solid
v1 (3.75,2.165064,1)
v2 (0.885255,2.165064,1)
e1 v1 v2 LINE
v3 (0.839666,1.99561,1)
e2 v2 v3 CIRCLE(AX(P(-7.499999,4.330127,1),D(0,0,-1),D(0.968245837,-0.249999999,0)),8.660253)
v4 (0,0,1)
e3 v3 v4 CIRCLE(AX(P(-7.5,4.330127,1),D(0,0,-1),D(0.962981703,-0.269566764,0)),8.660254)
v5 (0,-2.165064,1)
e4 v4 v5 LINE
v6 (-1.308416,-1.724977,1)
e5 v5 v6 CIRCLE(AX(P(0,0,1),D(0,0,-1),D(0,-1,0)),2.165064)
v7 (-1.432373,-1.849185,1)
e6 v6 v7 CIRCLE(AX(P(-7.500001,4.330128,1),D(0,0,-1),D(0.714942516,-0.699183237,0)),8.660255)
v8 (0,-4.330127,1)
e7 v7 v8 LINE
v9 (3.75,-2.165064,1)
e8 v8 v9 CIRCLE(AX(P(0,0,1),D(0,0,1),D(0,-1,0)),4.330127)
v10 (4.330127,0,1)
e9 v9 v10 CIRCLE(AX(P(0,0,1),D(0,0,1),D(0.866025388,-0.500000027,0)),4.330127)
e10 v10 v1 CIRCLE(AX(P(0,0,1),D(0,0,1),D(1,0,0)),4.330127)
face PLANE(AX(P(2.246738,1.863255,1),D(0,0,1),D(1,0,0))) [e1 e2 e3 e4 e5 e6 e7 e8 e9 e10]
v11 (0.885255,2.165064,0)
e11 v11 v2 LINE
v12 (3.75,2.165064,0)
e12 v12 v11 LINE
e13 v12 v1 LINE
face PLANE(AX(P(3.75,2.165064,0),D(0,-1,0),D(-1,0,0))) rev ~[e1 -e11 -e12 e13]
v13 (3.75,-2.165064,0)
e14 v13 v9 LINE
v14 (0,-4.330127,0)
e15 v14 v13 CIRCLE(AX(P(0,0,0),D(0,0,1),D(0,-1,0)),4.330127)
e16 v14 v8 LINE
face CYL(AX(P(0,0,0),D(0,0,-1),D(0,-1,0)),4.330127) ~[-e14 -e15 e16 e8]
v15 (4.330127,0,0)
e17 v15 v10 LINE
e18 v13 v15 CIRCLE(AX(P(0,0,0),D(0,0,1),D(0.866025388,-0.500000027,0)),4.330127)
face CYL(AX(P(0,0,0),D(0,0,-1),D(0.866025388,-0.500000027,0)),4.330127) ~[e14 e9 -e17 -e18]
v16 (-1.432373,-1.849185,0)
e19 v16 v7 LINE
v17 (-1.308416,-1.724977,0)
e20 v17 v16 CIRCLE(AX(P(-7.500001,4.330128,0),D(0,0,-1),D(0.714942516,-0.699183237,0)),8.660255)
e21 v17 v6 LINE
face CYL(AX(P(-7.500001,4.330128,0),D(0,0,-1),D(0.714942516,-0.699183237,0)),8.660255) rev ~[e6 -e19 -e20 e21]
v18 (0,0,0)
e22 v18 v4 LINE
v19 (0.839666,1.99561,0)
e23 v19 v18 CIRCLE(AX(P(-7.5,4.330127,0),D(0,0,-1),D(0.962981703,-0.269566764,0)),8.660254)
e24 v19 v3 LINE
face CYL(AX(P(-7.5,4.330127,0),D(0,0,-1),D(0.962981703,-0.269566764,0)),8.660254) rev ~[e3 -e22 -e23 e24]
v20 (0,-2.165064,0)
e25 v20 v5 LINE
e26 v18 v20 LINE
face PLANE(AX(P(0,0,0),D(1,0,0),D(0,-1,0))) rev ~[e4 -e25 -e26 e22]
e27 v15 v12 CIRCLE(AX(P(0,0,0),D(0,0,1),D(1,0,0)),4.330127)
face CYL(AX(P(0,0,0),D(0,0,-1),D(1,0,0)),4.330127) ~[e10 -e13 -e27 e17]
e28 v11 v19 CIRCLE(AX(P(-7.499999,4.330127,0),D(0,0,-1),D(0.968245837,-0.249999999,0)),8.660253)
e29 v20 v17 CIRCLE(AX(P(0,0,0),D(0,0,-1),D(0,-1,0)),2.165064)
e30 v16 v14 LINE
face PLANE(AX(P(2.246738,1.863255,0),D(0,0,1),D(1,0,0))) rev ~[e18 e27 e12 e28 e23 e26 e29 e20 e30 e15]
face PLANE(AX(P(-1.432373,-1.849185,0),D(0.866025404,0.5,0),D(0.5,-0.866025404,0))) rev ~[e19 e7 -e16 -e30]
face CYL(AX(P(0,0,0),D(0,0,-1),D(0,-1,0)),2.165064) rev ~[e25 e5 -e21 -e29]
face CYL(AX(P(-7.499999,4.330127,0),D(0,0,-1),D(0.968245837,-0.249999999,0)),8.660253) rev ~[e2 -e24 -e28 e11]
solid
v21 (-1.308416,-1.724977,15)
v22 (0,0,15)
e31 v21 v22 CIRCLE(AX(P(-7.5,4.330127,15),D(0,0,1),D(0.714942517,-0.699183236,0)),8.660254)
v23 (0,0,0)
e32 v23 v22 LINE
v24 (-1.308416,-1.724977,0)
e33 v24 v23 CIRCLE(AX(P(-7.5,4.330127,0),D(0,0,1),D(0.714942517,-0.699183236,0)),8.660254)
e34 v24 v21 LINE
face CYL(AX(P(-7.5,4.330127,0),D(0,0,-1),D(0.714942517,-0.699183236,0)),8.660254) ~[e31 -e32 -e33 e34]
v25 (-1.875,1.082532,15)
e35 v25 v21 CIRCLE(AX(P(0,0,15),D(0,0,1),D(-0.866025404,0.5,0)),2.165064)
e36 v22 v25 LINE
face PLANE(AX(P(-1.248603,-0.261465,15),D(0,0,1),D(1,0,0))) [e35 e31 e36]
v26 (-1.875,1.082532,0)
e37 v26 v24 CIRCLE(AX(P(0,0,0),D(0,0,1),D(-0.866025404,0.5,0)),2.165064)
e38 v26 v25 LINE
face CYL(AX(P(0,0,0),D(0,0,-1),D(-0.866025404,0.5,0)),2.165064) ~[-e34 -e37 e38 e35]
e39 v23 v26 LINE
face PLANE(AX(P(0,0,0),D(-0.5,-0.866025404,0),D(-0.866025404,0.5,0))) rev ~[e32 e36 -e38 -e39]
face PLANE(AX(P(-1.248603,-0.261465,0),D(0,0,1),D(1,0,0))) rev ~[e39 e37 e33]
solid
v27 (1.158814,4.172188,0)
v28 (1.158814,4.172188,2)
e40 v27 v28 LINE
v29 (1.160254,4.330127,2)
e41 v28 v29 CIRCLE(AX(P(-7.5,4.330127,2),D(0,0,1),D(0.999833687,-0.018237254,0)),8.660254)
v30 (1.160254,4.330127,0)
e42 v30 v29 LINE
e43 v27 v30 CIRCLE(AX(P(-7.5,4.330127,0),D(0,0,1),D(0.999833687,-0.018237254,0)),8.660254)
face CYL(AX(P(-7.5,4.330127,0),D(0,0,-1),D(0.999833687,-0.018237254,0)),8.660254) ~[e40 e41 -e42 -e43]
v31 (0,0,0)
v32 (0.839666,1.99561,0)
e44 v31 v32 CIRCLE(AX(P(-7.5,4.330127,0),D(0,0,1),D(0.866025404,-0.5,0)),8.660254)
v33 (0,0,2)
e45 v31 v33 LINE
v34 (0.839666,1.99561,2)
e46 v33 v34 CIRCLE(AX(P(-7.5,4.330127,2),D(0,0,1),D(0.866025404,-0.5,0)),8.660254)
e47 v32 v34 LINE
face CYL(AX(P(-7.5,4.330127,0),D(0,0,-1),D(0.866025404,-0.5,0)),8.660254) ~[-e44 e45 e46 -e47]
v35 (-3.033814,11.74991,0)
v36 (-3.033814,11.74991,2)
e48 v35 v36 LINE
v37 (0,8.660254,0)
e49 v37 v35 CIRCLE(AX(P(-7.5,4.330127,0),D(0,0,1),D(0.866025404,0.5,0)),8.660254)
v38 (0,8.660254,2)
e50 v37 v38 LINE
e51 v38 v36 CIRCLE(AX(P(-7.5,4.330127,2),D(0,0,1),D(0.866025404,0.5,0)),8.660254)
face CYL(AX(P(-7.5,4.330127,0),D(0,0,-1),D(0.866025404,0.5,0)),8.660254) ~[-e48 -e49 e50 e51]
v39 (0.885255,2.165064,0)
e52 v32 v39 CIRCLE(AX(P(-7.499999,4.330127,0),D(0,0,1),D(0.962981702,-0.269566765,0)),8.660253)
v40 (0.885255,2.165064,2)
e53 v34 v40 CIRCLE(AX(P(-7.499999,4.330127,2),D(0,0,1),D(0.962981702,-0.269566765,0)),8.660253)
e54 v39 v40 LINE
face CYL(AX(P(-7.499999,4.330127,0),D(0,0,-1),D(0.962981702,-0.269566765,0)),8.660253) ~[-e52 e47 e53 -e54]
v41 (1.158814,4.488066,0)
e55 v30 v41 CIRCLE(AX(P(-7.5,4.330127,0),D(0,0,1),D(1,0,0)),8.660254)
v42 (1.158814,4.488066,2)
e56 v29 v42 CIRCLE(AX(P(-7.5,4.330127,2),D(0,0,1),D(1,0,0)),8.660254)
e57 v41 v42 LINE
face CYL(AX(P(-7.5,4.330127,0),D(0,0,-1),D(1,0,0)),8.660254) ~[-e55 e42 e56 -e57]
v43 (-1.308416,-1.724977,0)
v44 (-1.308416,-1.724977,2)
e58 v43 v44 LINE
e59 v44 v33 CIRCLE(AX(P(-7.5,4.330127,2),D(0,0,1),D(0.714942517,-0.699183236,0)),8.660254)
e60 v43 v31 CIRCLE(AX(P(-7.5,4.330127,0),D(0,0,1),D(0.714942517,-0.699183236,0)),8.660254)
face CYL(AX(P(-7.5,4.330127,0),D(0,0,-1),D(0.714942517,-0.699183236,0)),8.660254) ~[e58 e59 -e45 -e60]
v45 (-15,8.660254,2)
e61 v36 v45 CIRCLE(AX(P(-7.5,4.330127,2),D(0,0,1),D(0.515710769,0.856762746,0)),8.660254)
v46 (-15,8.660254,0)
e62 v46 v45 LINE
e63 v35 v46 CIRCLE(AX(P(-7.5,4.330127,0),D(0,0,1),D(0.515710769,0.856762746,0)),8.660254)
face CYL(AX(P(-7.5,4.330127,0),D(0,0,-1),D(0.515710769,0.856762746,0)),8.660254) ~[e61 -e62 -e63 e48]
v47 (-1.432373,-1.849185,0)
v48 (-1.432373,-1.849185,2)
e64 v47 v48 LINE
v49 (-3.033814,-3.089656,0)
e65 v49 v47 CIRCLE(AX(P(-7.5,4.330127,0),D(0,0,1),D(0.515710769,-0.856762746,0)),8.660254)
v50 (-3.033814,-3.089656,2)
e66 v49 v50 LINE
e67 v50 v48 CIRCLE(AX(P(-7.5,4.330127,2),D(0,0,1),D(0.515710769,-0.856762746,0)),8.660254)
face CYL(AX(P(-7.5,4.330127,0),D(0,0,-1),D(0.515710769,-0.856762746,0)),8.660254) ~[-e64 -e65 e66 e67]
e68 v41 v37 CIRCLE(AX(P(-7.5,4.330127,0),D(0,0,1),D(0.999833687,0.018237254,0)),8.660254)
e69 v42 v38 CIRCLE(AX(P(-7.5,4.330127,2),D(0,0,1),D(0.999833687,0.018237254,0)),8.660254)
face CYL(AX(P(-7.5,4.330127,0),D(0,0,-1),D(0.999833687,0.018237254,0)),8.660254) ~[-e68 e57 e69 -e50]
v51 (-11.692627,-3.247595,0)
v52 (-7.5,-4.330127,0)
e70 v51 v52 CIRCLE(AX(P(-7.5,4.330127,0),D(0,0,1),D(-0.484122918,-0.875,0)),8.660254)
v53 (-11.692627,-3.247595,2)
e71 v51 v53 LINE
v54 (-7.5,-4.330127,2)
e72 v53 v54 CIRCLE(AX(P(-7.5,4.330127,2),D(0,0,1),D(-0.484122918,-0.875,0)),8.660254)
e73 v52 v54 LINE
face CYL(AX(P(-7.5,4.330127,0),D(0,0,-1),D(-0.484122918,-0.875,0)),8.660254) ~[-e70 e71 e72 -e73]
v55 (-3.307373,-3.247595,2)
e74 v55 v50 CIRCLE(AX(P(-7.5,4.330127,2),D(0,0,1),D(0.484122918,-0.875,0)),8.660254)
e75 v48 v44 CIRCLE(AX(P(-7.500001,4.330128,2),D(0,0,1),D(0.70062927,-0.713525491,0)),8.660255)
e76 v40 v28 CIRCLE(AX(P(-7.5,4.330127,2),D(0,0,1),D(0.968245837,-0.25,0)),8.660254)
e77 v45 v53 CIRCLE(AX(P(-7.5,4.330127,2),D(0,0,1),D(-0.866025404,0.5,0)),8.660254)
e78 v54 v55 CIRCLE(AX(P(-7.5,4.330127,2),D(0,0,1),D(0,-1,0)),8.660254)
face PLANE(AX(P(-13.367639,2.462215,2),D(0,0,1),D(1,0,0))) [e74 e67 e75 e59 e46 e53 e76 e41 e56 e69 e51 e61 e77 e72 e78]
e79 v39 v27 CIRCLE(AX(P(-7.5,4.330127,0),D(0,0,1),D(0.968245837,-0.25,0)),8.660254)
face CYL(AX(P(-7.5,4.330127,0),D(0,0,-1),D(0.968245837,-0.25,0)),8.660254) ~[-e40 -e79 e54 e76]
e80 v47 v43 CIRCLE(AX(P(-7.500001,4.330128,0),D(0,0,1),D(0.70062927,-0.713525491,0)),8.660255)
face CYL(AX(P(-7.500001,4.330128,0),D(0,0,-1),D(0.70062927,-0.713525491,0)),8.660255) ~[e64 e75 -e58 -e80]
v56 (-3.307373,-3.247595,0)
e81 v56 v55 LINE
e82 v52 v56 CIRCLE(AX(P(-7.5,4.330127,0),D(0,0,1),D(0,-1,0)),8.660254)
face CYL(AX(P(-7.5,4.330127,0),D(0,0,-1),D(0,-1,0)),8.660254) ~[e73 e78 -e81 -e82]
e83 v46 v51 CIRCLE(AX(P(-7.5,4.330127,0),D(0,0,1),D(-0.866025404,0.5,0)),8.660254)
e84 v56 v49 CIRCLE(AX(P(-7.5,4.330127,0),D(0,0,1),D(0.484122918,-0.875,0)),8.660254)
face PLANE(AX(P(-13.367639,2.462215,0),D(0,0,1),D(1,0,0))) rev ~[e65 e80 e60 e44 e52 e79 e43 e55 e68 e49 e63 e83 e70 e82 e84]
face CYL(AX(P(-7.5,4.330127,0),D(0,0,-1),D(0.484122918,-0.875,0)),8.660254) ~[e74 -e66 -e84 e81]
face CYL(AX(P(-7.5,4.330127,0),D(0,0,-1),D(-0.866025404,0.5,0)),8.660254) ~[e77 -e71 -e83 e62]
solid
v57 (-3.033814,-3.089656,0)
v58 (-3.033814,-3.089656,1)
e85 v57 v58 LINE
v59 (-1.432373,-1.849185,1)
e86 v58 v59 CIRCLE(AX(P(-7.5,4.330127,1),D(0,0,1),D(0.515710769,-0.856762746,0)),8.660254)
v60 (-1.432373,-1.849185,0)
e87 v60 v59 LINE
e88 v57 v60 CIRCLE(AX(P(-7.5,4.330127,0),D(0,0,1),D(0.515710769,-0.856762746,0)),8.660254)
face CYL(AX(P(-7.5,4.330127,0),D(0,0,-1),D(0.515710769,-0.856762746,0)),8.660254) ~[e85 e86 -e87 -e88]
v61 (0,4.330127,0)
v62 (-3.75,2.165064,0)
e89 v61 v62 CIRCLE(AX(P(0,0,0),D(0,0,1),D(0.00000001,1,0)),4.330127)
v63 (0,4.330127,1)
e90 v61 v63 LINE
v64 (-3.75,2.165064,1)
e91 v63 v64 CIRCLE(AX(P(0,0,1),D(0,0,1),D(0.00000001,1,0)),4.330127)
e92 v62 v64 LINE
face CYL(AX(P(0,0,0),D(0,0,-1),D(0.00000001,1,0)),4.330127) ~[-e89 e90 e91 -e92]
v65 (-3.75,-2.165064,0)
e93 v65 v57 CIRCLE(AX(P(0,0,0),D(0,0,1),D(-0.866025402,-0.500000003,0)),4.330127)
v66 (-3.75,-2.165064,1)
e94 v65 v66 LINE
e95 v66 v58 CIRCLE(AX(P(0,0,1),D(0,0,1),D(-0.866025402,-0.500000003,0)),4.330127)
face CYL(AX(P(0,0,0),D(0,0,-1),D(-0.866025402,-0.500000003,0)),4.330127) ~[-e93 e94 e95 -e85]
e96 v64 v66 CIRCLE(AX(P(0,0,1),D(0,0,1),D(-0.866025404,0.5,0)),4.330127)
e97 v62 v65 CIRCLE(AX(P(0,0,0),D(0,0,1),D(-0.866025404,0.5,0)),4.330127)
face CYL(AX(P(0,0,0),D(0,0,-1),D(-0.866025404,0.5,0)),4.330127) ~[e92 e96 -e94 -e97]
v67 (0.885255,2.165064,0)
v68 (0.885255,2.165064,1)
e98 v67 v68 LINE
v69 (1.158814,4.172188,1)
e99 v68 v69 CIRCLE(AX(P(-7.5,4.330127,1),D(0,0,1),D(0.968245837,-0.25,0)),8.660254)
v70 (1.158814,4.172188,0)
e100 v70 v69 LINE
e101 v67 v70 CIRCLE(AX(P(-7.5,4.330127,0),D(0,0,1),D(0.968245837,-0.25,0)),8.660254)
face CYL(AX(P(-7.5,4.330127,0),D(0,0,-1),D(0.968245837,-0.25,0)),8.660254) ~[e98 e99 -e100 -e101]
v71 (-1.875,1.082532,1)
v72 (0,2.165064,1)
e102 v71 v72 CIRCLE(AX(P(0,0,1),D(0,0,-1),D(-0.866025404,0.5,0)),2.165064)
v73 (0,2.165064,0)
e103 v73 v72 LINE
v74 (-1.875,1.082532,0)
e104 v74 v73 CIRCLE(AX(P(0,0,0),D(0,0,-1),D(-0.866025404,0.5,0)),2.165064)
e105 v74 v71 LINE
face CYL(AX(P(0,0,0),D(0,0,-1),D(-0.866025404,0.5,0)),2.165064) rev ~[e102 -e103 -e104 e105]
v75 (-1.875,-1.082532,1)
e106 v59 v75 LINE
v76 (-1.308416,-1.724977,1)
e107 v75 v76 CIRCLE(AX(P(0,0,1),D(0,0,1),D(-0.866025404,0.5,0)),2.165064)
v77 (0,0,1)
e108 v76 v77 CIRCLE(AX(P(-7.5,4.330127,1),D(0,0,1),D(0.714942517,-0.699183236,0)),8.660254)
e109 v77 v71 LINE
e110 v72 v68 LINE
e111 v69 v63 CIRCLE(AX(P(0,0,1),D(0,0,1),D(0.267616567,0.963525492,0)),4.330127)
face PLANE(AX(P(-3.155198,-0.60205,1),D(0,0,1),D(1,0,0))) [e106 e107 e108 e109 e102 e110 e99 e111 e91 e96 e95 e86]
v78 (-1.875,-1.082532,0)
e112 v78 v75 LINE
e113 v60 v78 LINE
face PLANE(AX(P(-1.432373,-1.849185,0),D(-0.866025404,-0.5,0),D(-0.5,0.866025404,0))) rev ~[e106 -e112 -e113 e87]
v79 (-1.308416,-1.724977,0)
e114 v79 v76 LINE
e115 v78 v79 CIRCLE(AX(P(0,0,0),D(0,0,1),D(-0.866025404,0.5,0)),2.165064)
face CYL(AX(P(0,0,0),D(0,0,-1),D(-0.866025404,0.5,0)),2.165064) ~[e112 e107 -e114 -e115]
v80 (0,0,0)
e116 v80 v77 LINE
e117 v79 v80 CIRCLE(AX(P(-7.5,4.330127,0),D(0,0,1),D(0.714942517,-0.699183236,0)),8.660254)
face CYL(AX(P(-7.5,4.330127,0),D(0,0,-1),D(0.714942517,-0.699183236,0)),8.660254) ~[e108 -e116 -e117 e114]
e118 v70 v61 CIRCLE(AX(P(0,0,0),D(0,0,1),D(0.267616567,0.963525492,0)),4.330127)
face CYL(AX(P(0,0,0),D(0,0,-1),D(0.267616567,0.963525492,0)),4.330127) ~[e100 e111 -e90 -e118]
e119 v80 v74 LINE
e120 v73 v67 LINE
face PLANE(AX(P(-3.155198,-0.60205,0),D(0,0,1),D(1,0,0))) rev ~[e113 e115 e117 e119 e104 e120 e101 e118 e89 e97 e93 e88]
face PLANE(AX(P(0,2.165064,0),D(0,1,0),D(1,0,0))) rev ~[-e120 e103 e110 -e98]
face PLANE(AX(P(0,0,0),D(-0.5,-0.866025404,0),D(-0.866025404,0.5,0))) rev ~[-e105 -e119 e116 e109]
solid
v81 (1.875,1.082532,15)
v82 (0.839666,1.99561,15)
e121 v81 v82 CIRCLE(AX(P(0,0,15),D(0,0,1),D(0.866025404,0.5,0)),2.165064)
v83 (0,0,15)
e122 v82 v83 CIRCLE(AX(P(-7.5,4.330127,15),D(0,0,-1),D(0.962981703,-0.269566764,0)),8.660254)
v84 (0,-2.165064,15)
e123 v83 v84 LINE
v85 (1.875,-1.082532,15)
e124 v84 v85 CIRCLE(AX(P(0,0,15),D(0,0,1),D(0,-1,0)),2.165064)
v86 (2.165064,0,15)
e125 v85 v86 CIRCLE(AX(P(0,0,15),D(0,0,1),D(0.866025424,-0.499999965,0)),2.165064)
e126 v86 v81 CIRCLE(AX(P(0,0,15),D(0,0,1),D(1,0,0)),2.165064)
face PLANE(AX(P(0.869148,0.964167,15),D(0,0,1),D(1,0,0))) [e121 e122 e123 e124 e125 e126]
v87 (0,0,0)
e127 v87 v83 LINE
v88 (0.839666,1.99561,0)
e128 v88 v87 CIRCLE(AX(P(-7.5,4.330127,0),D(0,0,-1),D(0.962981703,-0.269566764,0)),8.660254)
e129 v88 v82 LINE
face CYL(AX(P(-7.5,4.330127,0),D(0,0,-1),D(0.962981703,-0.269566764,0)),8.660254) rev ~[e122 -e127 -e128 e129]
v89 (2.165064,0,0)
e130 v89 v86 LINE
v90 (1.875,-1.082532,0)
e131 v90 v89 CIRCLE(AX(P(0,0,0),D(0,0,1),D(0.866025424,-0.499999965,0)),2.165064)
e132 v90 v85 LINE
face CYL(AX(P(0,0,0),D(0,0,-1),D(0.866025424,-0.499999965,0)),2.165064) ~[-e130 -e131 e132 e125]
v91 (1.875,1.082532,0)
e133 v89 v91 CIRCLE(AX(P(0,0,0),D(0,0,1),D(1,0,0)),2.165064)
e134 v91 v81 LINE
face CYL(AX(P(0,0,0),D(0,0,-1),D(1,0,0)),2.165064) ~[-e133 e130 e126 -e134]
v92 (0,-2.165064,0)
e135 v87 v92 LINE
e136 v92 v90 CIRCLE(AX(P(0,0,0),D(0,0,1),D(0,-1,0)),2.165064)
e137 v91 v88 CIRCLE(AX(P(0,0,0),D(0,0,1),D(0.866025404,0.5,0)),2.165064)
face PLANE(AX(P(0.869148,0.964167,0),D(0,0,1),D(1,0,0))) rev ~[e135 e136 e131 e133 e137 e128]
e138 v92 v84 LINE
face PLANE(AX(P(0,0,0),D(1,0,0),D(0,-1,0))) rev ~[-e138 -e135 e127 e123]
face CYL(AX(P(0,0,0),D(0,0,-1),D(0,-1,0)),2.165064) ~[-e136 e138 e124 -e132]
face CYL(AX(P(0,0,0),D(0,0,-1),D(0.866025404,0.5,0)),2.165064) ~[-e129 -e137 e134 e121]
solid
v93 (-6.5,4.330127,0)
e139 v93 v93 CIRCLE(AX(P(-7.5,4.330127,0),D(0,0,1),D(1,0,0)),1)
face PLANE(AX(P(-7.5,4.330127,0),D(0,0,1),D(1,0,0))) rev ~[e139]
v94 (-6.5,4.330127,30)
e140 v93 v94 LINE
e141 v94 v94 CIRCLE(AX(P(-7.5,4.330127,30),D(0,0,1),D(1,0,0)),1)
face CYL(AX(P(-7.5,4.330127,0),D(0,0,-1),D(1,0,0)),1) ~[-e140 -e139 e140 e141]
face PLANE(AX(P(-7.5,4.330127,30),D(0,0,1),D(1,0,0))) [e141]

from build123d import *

# Parameters (mm, degrees)
F1_DEPTH = 15
F2_DEPTH = 1
F0_R     = 1
F3_DEPTH = 2
F4_DEPTH = 30


with BuildPart() as f1:
    # F0 (on Top) → F1 (new body)
    with BuildSketch(Plane.XY):
        with BuildLine():
            ThreePointArc((0.8396661785, 1.9956103599), (0.4824414397, 0.9714623049), (0, 0))
            Line((0, 0), (1.875, 1.0825317547))
            ThreePointArc((1.875, 1.0825317547), (1.4320549047, 1.6237976321), (0.8396661785, 1.9956103599))
        make_face()
        with BuildLine():
            Line((0, 0), (0, -2.1650635095))
            ThreePointArc((0, -2.1650635095), (1.0825317923, -1.8749999783), (1.8750000434, -1.0825316796))
            ThreePointArc((1.8750000434, -1.0825316796), (2.0912907706, -0.5603596282), (2.1650635095, 0))
            ThreePointArc((2.1650635095, 0), (2.0912907593, 0.5603596701), (1.875, 1.0825317547))
            Line((1.875, 1.0825317547), (0, 0))
        make_face()
    extrude(amount=F1_DEPTH)


with BuildPart() as f1b:
    # F0 (on Top) → F1, piece 2 (new body)
    with BuildSketch(Plane.XY):
        with BuildLine():
            Line((0, 0), (-1.875, 1.0825317547))
            ThreePointArc((-1.875, 1.0825317547), (-2.1650635095, 4.52e-08), (-1.8750000452, -1.0825316765))
            ThreePointArc((-1.8750000452, -1.0825316765), (-1.623797662, -1.4320548708), (-1.3084161785, -1.7249774213))
            ThreePointArc((-1.3084161785, -1.7249774213), (-0.600090315, -0.9035376951), (0, 0))
        make_face()
    extrude(amount=F1_DEPTH)


with BuildPart() as f2:
    # F0 (on Top) → F2 (new body)
    with BuildSketch(Plane.XY):
        with BuildLine():
            Line((-1.8750000452, -1.0825316765), (-3.75, 2.1650635095))
            ThreePointArc((-3.75, 2.1650635095), (-4.3301270189, -7.9e-09), (-3.7499999921, -2.1650635231))
            ThreePointArc((-3.7499999921, -2.1650635231), (-3.4232659796, -2.6516504357), (-3.0338137289, -3.0896560097))
            ThreePointArc((-3.0338137289, -3.0896560097), (-2.1966991411, -2.5164049499), (-1.4323725422, -1.8491850005))
            Line((-1.4323725422, -1.8491850005), (-1.8750000452, -1.0825316765))
        make_face()
        with BuildLine():
            Line((-1.875, 1.0825317547), (-3.75, 2.1650635095))
            Line((-3.75, 2.1650635095), (-1.8750000452, -1.0825316765))
            ThreePointArc((-1.8750000452, -1.0825316765), (-2.1650635095, 4.52e-08), (-1.875, 1.0825317547))
        make_face()
        with BuildLine():
            Line((0, 2.1650635095), (-3.75, 2.1650635095))
            Line((-3.75, 2.1650635095), (-1.875, 1.0825317547))
            ThreePointArc((-1.875, 1.0825317547), (-1.0825317547, 1.875), (0, 2.1650635095))
        make_face()
        with BuildLine():
            ThreePointArc((4.5e-08, 4.3301270189), (-2.16506349, 3.7500000112), (-3.75, 2.1650635095))
            Line((-3.75, 2.1650635095), (0, 2.1650635095))
            Line((0, 2.1650635095), (0.8852549156, 2.1650635095))
            ThreePointArc((0.8852549156, 2.1650635095), (1.0809210423, 3.1605997356), (1.1588137289, 4.1721877644))
            ThreePointArc((1.1588137289, 4.1721877644), (0.5847636639, 4.2904605181), (4.5e-08, 4.3301270189))
        make_face()
        with BuildLine():
            Line((0, 0), (-1.875, 1.0825317547))
            ThreePointArc((-1.875, 1.0825317547), (-2.1650635095, 4.52e-08), (-1.8750000452, -1.0825316765))
            ThreePointArc((-1.8750000452, -1.0825316765), (-1.623797662, -1.4320548708), (-1.3084161785, -1.7249774213))
            ThreePointArc((-1.3084161785, -1.7249774213), (-0.600090315, -0.9035376951), (0, 0))
        make_face()
    extrude(amount=F2_DEPTH)


with BuildPart() as f2b:
    # F0 (on Top) → F2, piece 2 (new body)
    with BuildSketch(Plane.XY):
        with BuildLine():
            Line((1.875, 1.0825317547), (3.75, 2.1650635095))
            Line((3.75, 2.1650635095), (0.8852549156, 2.1650635095))
            ThreePointArc((0.8852549156, 2.1650635095), (0.8628897514, 2.0802214639), (0.8396661785, 1.9956103599))
            ThreePointArc((0.8396661785, 1.9956103599), (1.4320549047, 1.6237976321), (1.875, 1.0825317547))
        make_face()
        with BuildLine():
            ThreePointArc((2.1650635095, 0), (2.0912907706, -0.5603596282), (1.8750000434, -1.0825316796))
            Line((1.8750000434, -1.0825316796), (3.75, 2.1650635095))
            Line((3.75, 2.1650635095), (1.875, 1.0825317547))
            ThreePointArc((1.875, 1.0825317547), (2.0912907593, 0.5603596701), (2.1650635095, 0))
        make_face()
        with BuildLine():
            Line((1.8750000434, -1.0825316796), (0, -4.3301270189))
            ThreePointArc((0, -4.3301270189), (2.1650634514, -3.7500000335), (3.7499999329, -2.1650636256))
            ThreePointArc((3.7499999329, -2.1650636256), (4.1825815013, -1.120719405), (4.3301270189, 0))
            ThreePointArc((4.3301270189, 0), (4.1825815187, 1.1207193402), (3.75, 2.1650635095))
            Line((3.75, 2.1650635095), (1.8750000434, -1.0825316796))
        make_face()
        with BuildLine():
            Line((0, -2.1650635095), (0, -4.3301270189))
            Line((0, -4.3301270189), (1.8750000434, -1.0825316796))
            ThreePointArc((1.8750000434, -1.0825316796), (1.0825317923, -1.8749999783), (0, -2.1650635095))
        make_face()
        with BuildLine():
            Line((-1.4323725422, -1.8491850005), (0, -4.3301270189))
            Line((0, -4.3301270189), (0, -2.1650635095))
            ThreePointArc((0, -2.1650635095), (-0.6902225477, -2.0520947431), (-1.3084161785, -1.7249774213))
            ThreePointArc((-1.3084161785, -1.7249774213), (-1.3700797576, -1.7873951773), (-1.4323725422, -1.8491850005))
        make_face()
        with BuildLine():
            Line((0, 0), (0, -2.1650635095))
            ThreePointArc((0, -2.1650635095), (1.0825317923, -1.8749999783), (1.8750000434, -1.0825316796))
            ThreePointArc((1.8750000434, -1.0825316796), (2.0912907706, -0.5603596282), (2.1650635095, 0))
            ThreePointArc((2.1650635095, 0), (2.0912907593, 0.5603596701), (1.875, 1.0825317547))
            Line((1.875, 1.0825317547), (0, 0))
        make_face()
        with BuildLine():
            ThreePointArc((0.8396661785, 1.9956103599), (0.4824414397, 0.9714623049), (0, 0))
            Line((0, 0), (1.875, 1.0825317547))
            ThreePointArc((1.875, 1.0825317547), (1.4320549047, 1.6237976321), (0.8396661785, 1.9956103599))
        make_face()
    extrude(amount=F2_DEPTH)


with BuildPart() as f3:
    # F0 (on Top) → F3 (new body)
    with BuildSketch(Plane.XY):
        with BuildLine():
            ThreePointArc((-11.6926274578, -3.2475952642), (-10.9473040653, -1.7098036264), (-9.6650635095, -0.5801270189))
            Line((-9.6650635095, -0.5801270189), (-15, 8.6602540378))
            ThreePointArc((-15, 8.6602540378), (-15.8443755289, 2.0124995611), (-11.6926274578, -3.2475952642))
        make_face()
        with BuildLine():
            ThreePointArc((-9.6650635095, -0.5801270189), (-7.5, 0), (-5.3349364905, -0.5801270189))
            Line((-5.3349364905, -0.5801270189), (-3.75, 2.1650635095))
            Line((-3.75, 2.1650635095), (-2.1650635095, 4.9102540378))
            ThreePointArc((-2.1650635095, 4.9102540378), (-3.75, 6.4951905284), (-4.3301270189, 8.6602540378))
            Line((-4.3301270189, 8.6602540378), (-15, 8.6602540378))
            Line((-15, 8.6602540378), (-9.6650635095, -0.5801270189))
        make_face()
        with Locations((-7.5, 4.3301270189)):
            Circle(F0_R, mode=Mode.SUBTRACT)
        with BuildLine():
            ThreePointArc((-3.0338137289, 11.7499100475), (-9.6650635095, 12.7153819345), (-15, 8.6602540378))
            Line((-15, 8.6602540378), (-4.3301270189, 8.6602540378))
            ThreePointArc((-4.3301270189, 8.6602540378), (-3.9929186567, 10.3355452367), (-3.0338137289, 11.7499100475))
        make_face()
        with BuildLine():
            ThreePointArc((-3.0338137289, 11.7499100475), (-3.9929186567, 10.3355452367), (-4.3301270189, 8.6602540378))
            Line((-4.3301270189, 8.6602540378), (0, 8.6602540378))
            ThreePointArc((0, 8.6602540378), (-1.3206879806, 10.3977544767), (-3.0338137289, 11.7499100475))
        make_face()
        with BuildLine():
            ThreePointArc((-4.3301270189, 8.6602540378), (-3.75, 6.4951905284), (-2.1650635095, 4.9102540378))
            Line((-2.1650635095, 4.9102540378), (0, 8.6602540378))
            Line((0, 8.6602540378), (-4.3301270189, 8.6602540378))
        make_face()
        with BuildLine():
            Line((0, 8.6602540378), (-2.1650635095, 4.9102540378))
            ThreePointArc((-2.1650635095, 4.9102540378), (-1.1207193185, 4.4776725133), (4.5e-08, 4.3301270189))
            ThreePointArc((4.5e-08, 4.3301270189), (0.5847636639, 4.3697935197), (1.1588137289, 4.4880662734))
            ThreePointArc((1.1588137289, 4.4880662734), (0.8443755289, 6.6477544767), (0, 8.6602540378))
        make_face()
        with BuildLine():
            Line((-2.1650635095, 4.9102540378), (-3.75, 2.1650635095))
            ThreePointArc((-3.75, 2.1650635095), (-2.16506349, 3.7500000112), (4.5e-08, 4.3301270189))
            ThreePointArc((4.5e-08, 4.3301270189), (-1.1207193185, 4.4776725133), (-2.1650635095, 4.9102540378))
        make_face()
        with BuildLine():
            ThreePointArc((4.5e-08, 4.3301270189), (-2.16506349, 3.7500000112), (-3.75, 2.1650635095))
            Line((-3.75, 2.1650635095), (0, 2.1650635095))
            Line((0, 2.1650635095), (0.8852549156, 2.1650635095))
            ThreePointArc((0.8852549156, 2.1650635095), (1.0809210423, 3.1605997356), (1.1588137289, 4.1721877644))
            ThreePointArc((1.1588137289, 4.1721877644), (0.5847636639, 4.2904605181), (4.5e-08, 4.3301270189))
        make_face()
        with BuildLine():
            Line((0, 2.1650635095), (-3.75, 2.1650635095))
            Line((-3.75, 2.1650635095), (-1.875, 1.0825317547))
            ThreePointArc((-1.875, 1.0825317547), (-1.0825317547, 1.875), (0, 2.1650635095))
        make_face()
        with BuildLine():
            Line((-1.875, 1.0825317547), (-3.75, 2.1650635095))
            Line((-3.75, 2.1650635095), (-1.8750000452, -1.0825316765))
            ThreePointArc((-1.8750000452, -1.0825316765), (-2.1650635095, 4.52e-08), (-1.875, 1.0825317547))
        make_face()
        with BuildLine():
            Line((-3.75, 2.1650635095), (-5.3349364905, -0.5801270189))
            ThreePointArc((-5.3349364905, -0.5801270189), (-4.4381378159, -1.268264846), (-3.7499999921, -2.1650635231))
            ThreePointArc((-3.7499999921, -2.1650635231), (-4.3301270189, -7.9e-09), (-3.75, 2.1650635095))
        make_face()
        with BuildLine():
            Line((-1.8750000452, -1.0825316765), (-3.75, 2.1650635095))
            ThreePointArc((-3.75, 2.1650635095), (-4.3301270189, -7.9e-09), (-3.7499999921, -2.1650635231))
            ThreePointArc((-3.7499999921, -2.1650635231), (-3.4232659796, -2.6516504357), (-3.0338137289, -3.0896560097))
            ThreePointArc((-3.0338137289, -3.0896560097), (-2.1966991411, -2.5164049499), (-1.4323725422, -1.8491850005))
            Line((-1.4323725422, -1.8491850005), (-1.8750000452, -1.0825316765))
        make_face()
        with BuildLine():
            Line((-5.3349364905, -0.5801270189), (-7.5, -4.3301270189))
            ThreePointArc((-7.5, -4.3301270189), (-5.3349364905, -4.0551278967), (-3.3073725422, -3.2475952642))
            ThreePointArc((-3.3073725422, -3.2475952642), (-3.491970371, -2.6913169345), (-3.7499999921, -2.1650635231))
            ThreePointArc((-3.7499999921, -2.1650635231), (-4.4381378159, -1.268264846), (-5.3349364905, -0.5801270189))
        make_face()
        with BuildLine():
            Line((-9.6650635095, -0.5801270189), (-7.5, -4.3301270189))
            Line((-7.5, -4.3301270189), (-5.3349364905, -0.5801270189))
            ThreePointArc((-5.3349364905, -0.5801270189), (-7.5, 0), (-9.6650635095, -0.5801270189))
        make_face()
        with BuildLine():
            ThreePointArc((-11.6926274578, -3.2475952642), (-9.6650635095, -4.0551278967), (-7.5, -4.3301270189))
            Line((-7.5, -4.3301270189), (-9.6650635095, -0.5801270189))
            ThreePointArc((-9.6650635095, -0.5801270189), (-10.9473040653, -1.7098036264), (-11.6926274578, -3.2475952642))
        make_face()
        with BuildLine():
            ThreePointArc((1.1588137289, 4.4880662734), (0.5847636639, 4.3697935197), (4.5e-08, 4.3301270189))
            ThreePointArc((4.5e-08, 4.3301270189), (0.5847636639, 4.2904605181), (1.1588137289, 4.1721877644))
            ThreePointArc((1.1588137289, 4.1721877644), (1.1598939531, 4.2511541081), (1.1602540378, 4.3301270189))
            ThreePointArc((1.1602540378, 4.3301270189), (1.1598939531, 4.4090999298), (1.1588137289, 4.4880662734))
        make_face()
        with BuildLine():
            ThreePointArc((0, 2.1650635095), (-1.0825317547, 1.875), (-1.875, 1.0825317547))
            Line((-1.875, 1.0825317547), (0, 0))
            ThreePointArc((0, 0), (0.4824414397, 0.9714623049), (0.8396661785, 1.9956103599))
            ThreePointArc((0.8396661785, 1.9956103599), (0.428297111, 2.1222774523), (0, 2.1650635095))
        make_face()
        with BuildLine():
            Line((0.8852549156, 2.1650635095), (0, 2.1650635095))
            ThreePointArc((0, 2.1650635095), (0.428297111, 2.1222774523), (0.8396661785, 1.9956103599))
            ThreePointArc((0.8396661785, 1.9956103599), (0.8628897514, 2.0802214639), (0.8852549156, 2.1650635095))
        make_face()
        with BuildLine():
            Line((0, 0), (-1.875, 1.0825317547))
            ThreePointArc((-1.875, 1.0825317547), (-2.1650635095, 4.52e-08), (-1.8750000452, -1.0825316765))
            ThreePointArc((-1.8750000452, -1.0825316765), (-1.623797662, -1.4320548708), (-1.3084161785, -1.7249774213))
            ThreePointArc((-1.3084161785, -1.7249774213), (-0.600090315, -0.9035376951), (0, 0))
        make_face()
        with BuildLine():
            ThreePointArc((-3.7499999921, -2.1650635231), (-3.491970371, -2.6913169345), (-3.3073725422, -3.2475952642))
            ThreePointArc((-3.3073725422, -3.2475952642), (-3.1698729811, -3.1698729811), (-3.0338137289, -3.0896560097))
            ThreePointArc((-3.0338137289, -3.0896560097), (-3.4232659796, -2.6516504357), (-3.7499999921, -2.1650635231))
        make_face()
        with BuildLine():
            Line((-1.8750000452, -1.0825316765), (-1.4323725422, -1.8491850005))
            ThreePointArc((-1.4323725422, -1.8491850005), (-1.3700797576, -1.7873951773), (-1.3084161785, -1.7249774213))
            ThreePointArc((-1.3084161785, -1.7249774213), (-1.623797662, -1.4320548708), (-1.8750000452, -1.0825316765))
        make_face()
        with Locations((-7.5, 4.3301270189)):
            Circle(F0_R)
    extrude(amount=F3_DEPTH)


with BuildPart() as f4:
    # F0 (on Top) → F4 (new body)
    with BuildSketch(Plane.XY):
        with Locations((-7.5, 4.3301270189)):
            Circle(F0_R)
    extrude(amount=F4_DEPTH)


solid = Compound([f1.part, f1b.part, f2.part, f2b.part, f3.part, f4.part])
